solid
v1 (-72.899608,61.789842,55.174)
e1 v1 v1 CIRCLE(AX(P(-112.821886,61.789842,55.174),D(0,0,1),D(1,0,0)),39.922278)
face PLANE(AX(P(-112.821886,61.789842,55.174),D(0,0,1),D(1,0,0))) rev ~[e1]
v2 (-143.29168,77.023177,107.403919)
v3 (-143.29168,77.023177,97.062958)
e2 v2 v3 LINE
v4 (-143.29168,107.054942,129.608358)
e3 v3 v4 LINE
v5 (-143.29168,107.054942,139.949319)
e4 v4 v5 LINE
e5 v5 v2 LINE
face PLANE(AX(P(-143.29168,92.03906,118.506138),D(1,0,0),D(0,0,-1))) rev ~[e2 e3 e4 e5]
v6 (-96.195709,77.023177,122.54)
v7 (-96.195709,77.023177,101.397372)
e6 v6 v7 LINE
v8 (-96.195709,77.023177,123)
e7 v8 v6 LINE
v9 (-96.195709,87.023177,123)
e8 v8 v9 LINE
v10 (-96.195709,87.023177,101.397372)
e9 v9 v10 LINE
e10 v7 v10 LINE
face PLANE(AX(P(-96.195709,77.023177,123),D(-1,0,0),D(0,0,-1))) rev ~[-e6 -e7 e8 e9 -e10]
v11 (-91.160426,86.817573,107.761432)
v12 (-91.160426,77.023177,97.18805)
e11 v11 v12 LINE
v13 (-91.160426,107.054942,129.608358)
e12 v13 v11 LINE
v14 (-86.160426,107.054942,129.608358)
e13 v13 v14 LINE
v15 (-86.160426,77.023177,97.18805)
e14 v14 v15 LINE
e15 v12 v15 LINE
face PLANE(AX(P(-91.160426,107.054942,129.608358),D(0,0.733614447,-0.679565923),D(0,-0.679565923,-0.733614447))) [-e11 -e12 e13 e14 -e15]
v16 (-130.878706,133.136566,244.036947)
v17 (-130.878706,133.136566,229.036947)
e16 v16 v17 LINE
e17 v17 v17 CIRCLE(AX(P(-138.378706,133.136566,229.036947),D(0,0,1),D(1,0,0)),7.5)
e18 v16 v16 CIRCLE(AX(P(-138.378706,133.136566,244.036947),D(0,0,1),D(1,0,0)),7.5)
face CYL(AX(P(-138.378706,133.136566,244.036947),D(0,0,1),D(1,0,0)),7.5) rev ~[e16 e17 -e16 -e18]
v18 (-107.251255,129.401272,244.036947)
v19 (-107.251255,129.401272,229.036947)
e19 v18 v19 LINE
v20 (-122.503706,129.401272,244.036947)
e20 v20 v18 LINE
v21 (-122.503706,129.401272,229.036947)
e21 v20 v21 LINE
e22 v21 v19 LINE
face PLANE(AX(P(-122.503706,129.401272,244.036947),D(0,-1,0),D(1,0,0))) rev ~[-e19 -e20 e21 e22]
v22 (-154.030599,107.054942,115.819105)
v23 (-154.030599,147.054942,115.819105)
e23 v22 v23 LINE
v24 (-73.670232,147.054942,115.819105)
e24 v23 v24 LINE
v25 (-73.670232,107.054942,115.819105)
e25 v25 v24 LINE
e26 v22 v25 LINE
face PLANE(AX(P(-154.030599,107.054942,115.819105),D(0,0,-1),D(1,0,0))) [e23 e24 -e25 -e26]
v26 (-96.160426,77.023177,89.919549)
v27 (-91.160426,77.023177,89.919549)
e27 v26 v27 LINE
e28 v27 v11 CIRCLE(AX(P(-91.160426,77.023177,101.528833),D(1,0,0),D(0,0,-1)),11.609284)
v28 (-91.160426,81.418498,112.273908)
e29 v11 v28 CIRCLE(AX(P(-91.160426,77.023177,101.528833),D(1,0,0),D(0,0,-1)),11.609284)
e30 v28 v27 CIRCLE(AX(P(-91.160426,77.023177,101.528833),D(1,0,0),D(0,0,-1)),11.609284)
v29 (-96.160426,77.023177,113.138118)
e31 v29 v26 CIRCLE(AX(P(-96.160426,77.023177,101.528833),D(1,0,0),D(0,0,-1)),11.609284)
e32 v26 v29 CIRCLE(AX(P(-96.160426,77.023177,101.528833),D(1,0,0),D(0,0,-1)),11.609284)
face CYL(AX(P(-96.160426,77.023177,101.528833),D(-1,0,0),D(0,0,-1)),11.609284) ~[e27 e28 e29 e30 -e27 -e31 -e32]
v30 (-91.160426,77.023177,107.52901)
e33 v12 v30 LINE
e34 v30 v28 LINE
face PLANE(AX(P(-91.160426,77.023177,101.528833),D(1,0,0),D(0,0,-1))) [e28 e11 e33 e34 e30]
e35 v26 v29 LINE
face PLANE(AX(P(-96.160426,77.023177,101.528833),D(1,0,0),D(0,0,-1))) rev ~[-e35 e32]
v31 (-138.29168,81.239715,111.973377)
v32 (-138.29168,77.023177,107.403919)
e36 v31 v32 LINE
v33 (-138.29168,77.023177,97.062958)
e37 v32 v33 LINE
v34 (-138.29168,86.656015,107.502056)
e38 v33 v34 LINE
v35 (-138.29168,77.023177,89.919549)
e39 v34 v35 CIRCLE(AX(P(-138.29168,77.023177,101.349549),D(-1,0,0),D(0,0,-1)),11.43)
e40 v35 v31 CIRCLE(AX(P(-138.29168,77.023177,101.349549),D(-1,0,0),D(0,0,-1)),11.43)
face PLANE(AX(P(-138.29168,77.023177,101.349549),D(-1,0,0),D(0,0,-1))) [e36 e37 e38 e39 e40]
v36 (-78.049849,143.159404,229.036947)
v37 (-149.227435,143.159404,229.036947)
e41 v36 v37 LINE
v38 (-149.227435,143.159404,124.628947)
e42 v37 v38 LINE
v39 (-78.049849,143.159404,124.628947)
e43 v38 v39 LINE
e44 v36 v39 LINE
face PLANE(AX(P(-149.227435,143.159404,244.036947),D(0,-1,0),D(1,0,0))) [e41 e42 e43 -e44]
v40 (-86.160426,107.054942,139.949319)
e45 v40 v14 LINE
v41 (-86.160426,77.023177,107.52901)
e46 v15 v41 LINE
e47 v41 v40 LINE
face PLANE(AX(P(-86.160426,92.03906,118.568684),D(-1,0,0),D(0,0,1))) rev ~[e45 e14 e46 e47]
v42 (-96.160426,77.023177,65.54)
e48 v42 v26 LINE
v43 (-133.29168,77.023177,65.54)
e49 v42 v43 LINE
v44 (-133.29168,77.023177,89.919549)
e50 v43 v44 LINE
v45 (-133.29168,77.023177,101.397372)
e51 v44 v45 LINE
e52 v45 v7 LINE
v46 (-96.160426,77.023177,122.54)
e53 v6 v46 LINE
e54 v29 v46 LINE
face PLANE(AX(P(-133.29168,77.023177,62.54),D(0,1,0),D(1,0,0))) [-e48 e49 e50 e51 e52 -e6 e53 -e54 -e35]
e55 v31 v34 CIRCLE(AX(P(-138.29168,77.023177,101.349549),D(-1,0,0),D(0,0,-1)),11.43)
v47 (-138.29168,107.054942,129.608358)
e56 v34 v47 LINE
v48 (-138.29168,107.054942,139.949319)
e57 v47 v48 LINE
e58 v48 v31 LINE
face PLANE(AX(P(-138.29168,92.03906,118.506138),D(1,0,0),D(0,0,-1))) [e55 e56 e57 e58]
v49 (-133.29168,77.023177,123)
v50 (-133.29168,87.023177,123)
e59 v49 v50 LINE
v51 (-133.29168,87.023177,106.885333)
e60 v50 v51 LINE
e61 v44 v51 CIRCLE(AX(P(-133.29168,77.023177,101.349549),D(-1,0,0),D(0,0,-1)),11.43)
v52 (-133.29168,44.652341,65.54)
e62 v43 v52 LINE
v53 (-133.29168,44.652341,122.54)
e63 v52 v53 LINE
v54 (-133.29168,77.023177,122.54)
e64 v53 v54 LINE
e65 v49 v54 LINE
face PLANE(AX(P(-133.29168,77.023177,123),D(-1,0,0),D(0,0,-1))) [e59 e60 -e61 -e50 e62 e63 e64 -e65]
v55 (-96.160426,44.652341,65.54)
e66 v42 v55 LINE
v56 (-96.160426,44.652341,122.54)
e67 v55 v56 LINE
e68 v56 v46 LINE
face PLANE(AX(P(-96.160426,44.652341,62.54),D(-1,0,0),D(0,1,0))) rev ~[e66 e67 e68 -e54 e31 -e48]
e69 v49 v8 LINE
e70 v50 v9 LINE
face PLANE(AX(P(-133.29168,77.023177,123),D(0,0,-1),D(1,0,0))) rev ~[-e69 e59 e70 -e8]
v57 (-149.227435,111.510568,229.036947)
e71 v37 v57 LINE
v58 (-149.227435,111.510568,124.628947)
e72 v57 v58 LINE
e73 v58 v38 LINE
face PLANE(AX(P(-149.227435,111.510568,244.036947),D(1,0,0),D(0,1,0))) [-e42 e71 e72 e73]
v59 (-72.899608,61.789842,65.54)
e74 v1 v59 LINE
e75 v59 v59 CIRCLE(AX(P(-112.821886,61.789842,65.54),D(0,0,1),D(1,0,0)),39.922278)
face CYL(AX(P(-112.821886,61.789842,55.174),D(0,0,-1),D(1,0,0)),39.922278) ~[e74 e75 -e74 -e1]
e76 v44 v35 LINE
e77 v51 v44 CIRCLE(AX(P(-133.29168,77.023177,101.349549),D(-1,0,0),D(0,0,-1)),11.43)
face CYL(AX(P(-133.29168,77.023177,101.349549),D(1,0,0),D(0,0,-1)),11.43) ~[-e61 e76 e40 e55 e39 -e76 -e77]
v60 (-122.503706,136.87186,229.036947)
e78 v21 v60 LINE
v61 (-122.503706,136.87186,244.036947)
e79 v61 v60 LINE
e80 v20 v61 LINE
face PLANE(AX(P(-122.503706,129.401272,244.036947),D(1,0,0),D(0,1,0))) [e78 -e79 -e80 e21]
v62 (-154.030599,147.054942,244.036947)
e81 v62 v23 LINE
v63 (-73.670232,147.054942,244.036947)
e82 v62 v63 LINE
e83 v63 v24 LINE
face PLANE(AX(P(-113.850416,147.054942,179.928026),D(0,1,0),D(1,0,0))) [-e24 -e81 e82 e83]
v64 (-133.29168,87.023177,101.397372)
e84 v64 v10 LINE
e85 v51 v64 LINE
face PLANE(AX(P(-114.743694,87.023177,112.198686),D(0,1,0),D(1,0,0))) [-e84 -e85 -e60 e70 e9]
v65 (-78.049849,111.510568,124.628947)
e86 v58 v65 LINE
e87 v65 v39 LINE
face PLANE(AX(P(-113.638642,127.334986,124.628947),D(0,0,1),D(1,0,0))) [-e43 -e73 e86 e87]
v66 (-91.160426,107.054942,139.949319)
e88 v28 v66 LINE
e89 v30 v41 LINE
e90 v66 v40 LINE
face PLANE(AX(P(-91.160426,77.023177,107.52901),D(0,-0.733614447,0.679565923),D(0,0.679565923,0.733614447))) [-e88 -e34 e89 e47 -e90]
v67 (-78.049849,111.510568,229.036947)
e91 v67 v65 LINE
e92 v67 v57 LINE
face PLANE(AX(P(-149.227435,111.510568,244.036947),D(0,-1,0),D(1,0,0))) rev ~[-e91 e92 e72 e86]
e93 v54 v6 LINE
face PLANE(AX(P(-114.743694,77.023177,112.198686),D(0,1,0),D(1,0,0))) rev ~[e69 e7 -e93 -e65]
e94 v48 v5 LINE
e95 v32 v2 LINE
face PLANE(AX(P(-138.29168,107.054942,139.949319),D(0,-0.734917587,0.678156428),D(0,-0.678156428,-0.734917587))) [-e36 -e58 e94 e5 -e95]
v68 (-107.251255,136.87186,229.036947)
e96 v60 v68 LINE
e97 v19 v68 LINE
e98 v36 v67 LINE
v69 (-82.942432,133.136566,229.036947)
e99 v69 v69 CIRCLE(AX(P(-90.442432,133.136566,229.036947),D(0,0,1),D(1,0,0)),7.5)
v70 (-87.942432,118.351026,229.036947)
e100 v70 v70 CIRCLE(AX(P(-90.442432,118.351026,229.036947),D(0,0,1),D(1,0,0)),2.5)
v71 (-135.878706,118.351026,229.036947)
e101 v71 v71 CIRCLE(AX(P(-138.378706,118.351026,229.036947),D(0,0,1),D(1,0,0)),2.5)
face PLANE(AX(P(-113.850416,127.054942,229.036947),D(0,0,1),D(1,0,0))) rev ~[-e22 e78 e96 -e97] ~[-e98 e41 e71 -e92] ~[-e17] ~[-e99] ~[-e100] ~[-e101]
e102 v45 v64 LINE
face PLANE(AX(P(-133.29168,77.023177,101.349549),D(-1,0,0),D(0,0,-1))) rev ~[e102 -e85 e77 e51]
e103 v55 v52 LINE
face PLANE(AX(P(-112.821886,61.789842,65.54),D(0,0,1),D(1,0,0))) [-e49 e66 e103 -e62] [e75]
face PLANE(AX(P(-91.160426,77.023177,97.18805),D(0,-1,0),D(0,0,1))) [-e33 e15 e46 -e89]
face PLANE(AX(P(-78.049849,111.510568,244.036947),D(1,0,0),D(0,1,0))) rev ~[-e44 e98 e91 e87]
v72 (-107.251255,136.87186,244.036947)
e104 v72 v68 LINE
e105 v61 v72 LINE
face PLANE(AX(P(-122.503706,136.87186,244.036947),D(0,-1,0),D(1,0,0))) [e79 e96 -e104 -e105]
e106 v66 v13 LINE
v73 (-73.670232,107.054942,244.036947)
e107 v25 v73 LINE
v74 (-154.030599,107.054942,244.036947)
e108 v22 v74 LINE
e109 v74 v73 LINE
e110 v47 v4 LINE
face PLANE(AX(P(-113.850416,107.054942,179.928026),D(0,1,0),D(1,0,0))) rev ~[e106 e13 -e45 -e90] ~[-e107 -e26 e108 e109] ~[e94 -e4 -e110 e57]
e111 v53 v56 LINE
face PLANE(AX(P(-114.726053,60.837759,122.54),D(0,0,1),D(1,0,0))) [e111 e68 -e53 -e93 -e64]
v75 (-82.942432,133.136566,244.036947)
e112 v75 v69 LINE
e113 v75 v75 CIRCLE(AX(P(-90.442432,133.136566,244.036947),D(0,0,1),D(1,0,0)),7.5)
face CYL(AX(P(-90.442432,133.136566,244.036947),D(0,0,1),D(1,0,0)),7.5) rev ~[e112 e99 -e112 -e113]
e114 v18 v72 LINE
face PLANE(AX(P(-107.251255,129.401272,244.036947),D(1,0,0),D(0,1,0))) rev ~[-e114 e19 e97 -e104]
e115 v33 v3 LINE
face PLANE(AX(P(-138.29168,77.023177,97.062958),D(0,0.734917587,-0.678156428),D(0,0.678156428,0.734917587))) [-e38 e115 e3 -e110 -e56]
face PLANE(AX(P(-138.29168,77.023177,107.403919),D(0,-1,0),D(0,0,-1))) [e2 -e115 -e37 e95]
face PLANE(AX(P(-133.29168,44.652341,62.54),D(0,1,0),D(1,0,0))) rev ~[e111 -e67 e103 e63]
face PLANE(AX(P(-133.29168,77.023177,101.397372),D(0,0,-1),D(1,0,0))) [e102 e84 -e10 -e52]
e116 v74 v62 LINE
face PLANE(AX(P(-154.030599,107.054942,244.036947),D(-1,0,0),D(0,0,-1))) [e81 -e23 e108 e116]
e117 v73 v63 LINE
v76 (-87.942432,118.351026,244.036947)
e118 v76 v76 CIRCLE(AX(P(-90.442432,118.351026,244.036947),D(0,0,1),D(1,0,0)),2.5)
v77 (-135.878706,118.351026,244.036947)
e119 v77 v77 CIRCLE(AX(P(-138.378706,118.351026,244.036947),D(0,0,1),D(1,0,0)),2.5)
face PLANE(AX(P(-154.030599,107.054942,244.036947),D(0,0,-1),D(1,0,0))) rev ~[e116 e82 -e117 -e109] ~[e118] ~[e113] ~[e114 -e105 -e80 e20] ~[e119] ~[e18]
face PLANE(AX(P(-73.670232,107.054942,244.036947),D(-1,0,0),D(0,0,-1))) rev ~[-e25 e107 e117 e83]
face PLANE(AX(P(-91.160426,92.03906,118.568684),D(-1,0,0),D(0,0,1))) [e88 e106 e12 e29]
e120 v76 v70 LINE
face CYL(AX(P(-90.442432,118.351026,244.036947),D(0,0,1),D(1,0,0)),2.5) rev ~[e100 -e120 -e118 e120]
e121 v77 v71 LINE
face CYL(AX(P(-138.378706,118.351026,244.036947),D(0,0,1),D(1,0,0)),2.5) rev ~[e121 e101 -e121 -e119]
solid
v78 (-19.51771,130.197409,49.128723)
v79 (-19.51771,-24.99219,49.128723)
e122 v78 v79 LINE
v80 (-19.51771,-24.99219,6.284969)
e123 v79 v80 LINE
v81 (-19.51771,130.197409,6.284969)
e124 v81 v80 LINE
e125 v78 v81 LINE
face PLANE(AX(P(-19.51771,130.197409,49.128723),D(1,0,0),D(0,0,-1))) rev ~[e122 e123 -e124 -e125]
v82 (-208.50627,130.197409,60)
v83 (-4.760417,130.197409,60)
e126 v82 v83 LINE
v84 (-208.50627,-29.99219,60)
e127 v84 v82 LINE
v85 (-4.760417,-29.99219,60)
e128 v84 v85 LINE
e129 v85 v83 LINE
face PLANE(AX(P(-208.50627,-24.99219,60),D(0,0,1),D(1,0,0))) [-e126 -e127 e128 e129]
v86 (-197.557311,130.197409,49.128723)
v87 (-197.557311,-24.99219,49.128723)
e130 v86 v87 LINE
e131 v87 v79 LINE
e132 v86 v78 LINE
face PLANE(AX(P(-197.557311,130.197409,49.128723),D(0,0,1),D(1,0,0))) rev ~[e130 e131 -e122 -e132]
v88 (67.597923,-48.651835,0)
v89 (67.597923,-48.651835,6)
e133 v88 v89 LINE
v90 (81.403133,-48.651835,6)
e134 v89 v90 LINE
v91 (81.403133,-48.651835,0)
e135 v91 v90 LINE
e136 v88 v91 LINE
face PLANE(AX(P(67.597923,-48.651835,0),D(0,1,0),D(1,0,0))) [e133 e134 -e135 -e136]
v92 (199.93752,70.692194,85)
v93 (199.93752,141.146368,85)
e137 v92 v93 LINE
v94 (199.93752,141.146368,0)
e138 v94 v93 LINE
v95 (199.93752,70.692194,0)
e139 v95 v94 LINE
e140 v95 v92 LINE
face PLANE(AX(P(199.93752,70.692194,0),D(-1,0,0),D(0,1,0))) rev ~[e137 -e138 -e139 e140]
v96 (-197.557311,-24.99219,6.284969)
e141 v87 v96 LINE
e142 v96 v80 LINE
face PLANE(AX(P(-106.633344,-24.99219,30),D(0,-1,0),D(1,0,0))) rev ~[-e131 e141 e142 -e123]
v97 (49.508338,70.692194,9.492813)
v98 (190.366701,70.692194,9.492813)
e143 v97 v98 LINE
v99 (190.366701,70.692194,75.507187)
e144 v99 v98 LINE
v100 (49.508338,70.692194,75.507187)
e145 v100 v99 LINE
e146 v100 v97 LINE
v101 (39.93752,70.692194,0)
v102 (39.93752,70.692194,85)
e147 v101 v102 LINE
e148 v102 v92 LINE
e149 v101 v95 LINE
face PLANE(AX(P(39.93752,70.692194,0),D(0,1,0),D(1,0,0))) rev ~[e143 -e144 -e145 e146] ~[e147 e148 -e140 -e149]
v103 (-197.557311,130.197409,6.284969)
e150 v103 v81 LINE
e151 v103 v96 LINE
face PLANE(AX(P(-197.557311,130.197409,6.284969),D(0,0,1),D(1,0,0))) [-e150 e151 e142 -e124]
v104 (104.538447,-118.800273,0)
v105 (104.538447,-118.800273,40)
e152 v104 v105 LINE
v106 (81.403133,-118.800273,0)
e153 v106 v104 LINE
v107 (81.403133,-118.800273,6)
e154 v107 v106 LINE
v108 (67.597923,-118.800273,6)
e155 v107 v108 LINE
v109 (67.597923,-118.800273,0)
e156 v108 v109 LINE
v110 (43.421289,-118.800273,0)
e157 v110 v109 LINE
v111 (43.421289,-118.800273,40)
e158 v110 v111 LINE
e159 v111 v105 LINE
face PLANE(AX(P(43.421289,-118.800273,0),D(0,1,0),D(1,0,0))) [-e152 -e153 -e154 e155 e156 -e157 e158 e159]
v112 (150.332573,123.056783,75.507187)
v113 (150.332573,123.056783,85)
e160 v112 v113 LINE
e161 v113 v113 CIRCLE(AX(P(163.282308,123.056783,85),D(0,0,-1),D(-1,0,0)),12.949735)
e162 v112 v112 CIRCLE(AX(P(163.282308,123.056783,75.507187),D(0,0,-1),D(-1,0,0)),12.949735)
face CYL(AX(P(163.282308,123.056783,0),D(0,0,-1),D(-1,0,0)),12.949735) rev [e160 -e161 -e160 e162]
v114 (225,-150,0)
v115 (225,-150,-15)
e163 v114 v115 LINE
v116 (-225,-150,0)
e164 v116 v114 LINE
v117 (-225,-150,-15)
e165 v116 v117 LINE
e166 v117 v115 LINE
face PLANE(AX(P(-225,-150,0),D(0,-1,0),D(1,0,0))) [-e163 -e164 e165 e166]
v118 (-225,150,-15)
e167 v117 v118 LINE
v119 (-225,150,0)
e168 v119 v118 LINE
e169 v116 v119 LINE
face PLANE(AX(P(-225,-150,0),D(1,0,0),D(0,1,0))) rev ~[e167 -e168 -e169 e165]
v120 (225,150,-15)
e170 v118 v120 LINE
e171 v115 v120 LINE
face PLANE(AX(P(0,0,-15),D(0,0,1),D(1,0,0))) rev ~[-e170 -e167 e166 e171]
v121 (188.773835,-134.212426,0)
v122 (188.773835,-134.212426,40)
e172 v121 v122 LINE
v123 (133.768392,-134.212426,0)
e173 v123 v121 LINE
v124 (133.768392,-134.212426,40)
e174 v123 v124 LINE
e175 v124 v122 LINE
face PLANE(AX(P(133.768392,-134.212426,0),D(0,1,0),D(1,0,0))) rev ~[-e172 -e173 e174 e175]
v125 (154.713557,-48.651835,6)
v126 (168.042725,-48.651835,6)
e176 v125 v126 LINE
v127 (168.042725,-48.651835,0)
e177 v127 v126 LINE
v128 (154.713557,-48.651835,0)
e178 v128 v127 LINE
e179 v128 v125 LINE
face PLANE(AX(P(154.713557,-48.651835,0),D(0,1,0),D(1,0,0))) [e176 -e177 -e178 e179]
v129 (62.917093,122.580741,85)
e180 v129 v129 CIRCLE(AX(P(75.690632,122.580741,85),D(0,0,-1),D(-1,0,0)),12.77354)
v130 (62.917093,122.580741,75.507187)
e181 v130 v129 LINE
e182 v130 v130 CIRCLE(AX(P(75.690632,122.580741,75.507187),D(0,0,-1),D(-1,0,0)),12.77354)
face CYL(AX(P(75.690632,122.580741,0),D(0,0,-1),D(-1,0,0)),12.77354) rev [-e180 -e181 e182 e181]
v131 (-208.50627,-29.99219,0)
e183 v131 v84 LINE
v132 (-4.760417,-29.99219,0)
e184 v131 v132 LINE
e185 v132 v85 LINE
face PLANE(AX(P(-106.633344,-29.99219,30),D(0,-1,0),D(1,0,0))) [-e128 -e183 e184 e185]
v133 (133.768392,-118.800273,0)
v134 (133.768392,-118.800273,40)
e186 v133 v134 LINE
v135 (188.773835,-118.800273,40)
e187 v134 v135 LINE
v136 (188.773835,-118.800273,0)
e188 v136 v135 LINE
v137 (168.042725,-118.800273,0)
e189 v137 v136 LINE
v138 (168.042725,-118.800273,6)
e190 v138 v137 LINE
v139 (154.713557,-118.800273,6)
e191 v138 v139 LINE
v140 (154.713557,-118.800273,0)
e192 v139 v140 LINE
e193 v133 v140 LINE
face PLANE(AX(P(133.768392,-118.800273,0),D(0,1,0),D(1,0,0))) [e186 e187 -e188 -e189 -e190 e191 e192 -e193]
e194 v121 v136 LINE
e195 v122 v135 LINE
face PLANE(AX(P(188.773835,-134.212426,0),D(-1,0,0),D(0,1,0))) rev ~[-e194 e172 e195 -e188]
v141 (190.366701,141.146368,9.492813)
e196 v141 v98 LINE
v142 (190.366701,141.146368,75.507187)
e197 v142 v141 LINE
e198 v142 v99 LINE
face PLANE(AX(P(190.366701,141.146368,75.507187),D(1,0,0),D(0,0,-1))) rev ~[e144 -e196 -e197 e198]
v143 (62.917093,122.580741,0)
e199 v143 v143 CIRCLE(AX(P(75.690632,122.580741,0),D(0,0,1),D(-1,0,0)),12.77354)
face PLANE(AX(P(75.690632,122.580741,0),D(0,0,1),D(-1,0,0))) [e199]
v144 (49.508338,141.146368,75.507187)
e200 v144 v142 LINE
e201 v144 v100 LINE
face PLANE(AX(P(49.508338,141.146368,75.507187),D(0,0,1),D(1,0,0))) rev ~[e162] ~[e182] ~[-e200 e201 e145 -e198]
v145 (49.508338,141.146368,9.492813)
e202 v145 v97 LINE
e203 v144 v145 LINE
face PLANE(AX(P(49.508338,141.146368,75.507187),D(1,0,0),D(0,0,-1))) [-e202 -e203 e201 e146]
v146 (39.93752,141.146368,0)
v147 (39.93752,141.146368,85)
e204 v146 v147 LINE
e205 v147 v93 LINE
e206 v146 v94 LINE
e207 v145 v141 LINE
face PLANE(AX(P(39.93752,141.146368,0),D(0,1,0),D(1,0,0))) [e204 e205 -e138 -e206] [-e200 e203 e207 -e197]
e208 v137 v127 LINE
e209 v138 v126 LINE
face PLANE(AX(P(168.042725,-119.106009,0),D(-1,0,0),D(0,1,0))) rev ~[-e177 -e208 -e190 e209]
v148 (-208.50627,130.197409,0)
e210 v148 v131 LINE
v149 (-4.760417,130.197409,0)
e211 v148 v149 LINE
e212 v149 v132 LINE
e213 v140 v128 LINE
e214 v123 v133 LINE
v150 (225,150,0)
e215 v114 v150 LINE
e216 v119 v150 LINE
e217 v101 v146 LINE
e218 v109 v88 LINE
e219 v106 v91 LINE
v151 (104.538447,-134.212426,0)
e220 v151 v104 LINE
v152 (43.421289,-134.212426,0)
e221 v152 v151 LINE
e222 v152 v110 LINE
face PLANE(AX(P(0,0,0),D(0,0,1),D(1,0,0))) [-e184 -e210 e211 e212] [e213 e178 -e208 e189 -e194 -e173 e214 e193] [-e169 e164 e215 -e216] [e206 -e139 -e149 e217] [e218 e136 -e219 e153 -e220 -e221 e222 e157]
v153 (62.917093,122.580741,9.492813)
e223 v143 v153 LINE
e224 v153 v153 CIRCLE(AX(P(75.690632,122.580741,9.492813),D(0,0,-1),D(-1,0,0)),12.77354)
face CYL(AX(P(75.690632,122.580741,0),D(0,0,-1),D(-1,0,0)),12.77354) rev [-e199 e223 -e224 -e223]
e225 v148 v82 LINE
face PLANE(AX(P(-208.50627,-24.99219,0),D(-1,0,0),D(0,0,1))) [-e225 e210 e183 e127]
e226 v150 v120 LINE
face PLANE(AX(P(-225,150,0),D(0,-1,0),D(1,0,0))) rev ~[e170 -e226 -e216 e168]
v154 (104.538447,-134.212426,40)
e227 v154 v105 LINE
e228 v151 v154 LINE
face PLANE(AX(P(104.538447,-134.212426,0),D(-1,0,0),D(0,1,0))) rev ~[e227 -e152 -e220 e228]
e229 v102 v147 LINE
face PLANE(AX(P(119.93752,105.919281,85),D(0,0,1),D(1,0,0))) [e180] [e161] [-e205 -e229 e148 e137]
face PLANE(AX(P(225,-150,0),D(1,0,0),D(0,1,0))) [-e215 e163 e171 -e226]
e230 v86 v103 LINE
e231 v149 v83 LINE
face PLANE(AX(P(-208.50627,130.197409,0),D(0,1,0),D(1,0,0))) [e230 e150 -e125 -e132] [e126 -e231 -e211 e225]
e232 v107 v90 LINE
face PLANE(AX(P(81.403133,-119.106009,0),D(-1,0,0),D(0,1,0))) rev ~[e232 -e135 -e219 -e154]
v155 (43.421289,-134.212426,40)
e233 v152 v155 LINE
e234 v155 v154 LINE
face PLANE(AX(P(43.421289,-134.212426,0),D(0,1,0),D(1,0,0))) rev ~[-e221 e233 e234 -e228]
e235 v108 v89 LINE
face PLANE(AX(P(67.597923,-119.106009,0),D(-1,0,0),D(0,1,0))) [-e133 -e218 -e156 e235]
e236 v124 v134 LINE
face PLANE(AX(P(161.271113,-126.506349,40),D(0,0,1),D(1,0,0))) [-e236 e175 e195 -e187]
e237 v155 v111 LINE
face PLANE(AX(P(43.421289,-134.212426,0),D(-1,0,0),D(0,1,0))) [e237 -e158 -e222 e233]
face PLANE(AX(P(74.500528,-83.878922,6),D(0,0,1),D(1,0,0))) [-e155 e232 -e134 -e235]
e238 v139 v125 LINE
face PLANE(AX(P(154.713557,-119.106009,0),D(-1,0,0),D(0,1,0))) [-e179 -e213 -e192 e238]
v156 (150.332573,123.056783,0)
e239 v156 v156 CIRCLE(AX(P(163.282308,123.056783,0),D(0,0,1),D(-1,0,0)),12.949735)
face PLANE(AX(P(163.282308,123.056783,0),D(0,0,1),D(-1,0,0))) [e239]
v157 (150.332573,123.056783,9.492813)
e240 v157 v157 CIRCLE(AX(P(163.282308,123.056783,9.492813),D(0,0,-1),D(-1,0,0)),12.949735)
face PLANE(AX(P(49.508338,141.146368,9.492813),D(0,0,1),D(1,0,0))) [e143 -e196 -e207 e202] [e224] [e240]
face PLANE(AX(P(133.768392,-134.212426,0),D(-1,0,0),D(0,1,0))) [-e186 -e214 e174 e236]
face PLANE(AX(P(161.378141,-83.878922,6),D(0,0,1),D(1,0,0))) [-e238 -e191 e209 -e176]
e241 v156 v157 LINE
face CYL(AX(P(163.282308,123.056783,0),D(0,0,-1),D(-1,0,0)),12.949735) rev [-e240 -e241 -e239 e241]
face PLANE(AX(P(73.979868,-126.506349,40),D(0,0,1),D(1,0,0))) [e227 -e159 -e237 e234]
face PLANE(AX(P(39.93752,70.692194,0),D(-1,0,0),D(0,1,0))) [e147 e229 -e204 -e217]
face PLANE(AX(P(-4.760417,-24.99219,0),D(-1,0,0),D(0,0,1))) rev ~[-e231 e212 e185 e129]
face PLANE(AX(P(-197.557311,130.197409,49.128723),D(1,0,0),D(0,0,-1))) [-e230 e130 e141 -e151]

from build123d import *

# Parameters (mm, degrees)
SKETCH2_W                = 450
SKETCH2_H                = 300
BOSS_EXTRUDE1_DEPTH      = 15
SKETCH3_W                = 160
SKETCH3_H                = 70.454173546
BOSS_EXTRUDE2_DEPTH      = 85
SKETCH4_W                = 140.858362714
SKETCH4_H                = 66.01437432
CUT_EXTRUDE1_DEPTH       = 85
SKETCH6_W                = 203.74585323
SKETCH6_H                = 155.189598489
BOSS_EXTRUDE3_DEPTH      = 60
SKETCH7_W                = 178.03960072
SKETCH7_H                = 42.843754184
CUT_EXTRUDE2_DEPTH       = 370.270345082
SKETCH9_R                = 12.773539569
CUT_EXTRUDE3_DEPTH       = 284.460755661
SKETCH10_R               = 12.949734645
CUT_EXTRUDE4_DEPTH       = 284.460755661
SKETCH11_W               = 203.74585323
SKETCH11_H               = 60
BOSS_EXTRUDE4_DEPTH      = 5
SKETCH14_W               = 13.805209682
SKETCH14_H               = 70.454173547
SKETCH14_W_2             = 13.329167969
BOSS_EXTRUDE7_DEPTH      = 6
SKETCH15_W               = 55.005442473
SKETCH15_H               = 15.412152964
SKETCH15_W_2             = 61.117158303
BOSS_EXTRUDE8_DEPTH      = 40
BOSS_EXTRUDE9_DEPTH      = 3
BOSS_EXTRUDE9_DEPTH_BACK = 7.366
SKETCH17_R               = 39.922278331
SKETCH18_W               = 37.131253626
SKETCH18_H               = 32.370836495
BOSS_EXTRUDE10_DEPTH     = 60
SKETCH22_W               = 37.095971173
SKETCH22_H               = 21.602627686
BOSS_EXTRUDE11_DEPTH     = 10
SKETCH23_R               = 11.43
BOSS_EXTRUDE12_DEPTH     = 5
SKETCH24_R               = 11.609284077
BOSS_EXTRUDE13_DEPTH     = 5
BOSS_EXTRUDE14_DEPTH     = 5
BOSS_EXTRUDE15_DEPTH     = 5
SKETCH30_W               = 80.360367193
SKETCH30_H               = 128.21784224
BOSS_EXTRUDE17_DEPTH     = 40
SKETCH35_W               = 71.177586029
SKETCH35_H               = 31.648835894
CUT_EXTRUDE6_DEPTH       = 119.408
SKETCH39_W               = 80.360367193
SKETCH39_H               = 40
BOSS_EXTRUDE19_DEPTH     = 15
SKETCH38_R               = 7.5
SKETCH38_R_2             = 2.5
SKETCH38_W               = 15.252451033
SKETCH38_H               = 7.470588261
CUT_EXTRUDE7_DEPTH       = 20


with BuildPart() as part:
    # Sketch2 → Boss-Extrude1 (new body)
    with BuildSketch(Plane.XY):
        Rectangle(SKETCH2_W, SKETCH2_H)
    extrude(amount=-BOSS_EXTRUDE1_DEPTH)

    # Sketch3 → Boss-Extrude2 (add)
    with BuildSketch(Plane.XY):
        with Locations((119.937519525, 105.919281177)):
            Rectangle(SKETCH3_W, SKETCH3_H)
    extrude(amount=BOSS_EXTRUDE2_DEPTH)

    # Sketch4 → Cut-Extrude1 (cut)
    with BuildSketch(Plane(origin=(0, 141.14636795, 0), x_dir=(1, 0, 0), z_dir=(0, 1, 0))):
        with Locations((119.937519525, -42.5)):
            Rectangle(SKETCH4_W, SKETCH4_H)
    extrude(amount=-CUT_EXTRUDE1_DEPTH, mode=Mode.SUBTRACT)

    # Sketch6 → Boss-Extrude3 (add)
    with BuildSketch(Plane.XY):
        with Locations((-106.633343747, 52.602609303)):
            Rectangle(SKETCH6_W, SKETCH6_H)
    extrude(amount=BOSS_EXTRUDE3_DEPTH)

    # Sketch7 → Cut-Extrude2 (cut, through all)
    with BuildSketch(Plane(origin=(0, 130.197408548, 0), x_dir=(1, 0, 0), z_dir=(0, 1, 0))):
        with Locations((-108.537510599, -27.706846098)):
            Rectangle(SKETCH7_W, SKETCH7_H)
    extrude(amount=-CUT_EXTRUDE2_DEPTH, mode=Mode.SUBTRACT)

    # Sketch9 → Cut-Extrude3 (cut, through all)
    with BuildSketch(Plane.XY):
        with Locations(Location((75.690632392, 122.580741137, 0), (0, 0, 180))):
            Circle(SKETCH9_R)
    extrude(amount=CUT_EXTRUDE3_DEPTH, mode=Mode.SUBTRACT)

    # Sketch10 → Cut-Extrude4 (cut, through all)
    with BuildSketch(Plane.XY):
        with Locations(Location((163.282307612, 123.056782851, 0), (0, 0, 180))):
            Circle(SKETCH10_R)
    extrude(amount=CUT_EXTRUDE4_DEPTH, mode=Mode.SUBTRACT)

    # Sketch11 → Boss-Extrude4 (add)
    with BuildSketch(Plane.XZ.offset(24.992189941)):
        with Locations((-106.633343747, 30)):
            Rectangle(SKETCH11_W, SKETCH11_H)
    extrude(amount=BOSS_EXTRUDE4_DEPTH)

    # Sketch14 → Boss-Extrude7 (add)
    with BuildSketch(Plane.XY):
        with Locations((74.500528109, -83.878921765)):
            Rectangle(SKETCH14_W, SKETCH14_H)
        with Locations((161.37814076, -83.878921765)):
            Rectangle(SKETCH14_W_2, SKETCH14_H)
    extrude(amount=BOSS_EXTRUDE7_DEPTH)

    # Sketch15 → Boss-Extrude8 (add)
    with BuildSketch(Plane.XY):
        with Locations((161.271113451, -126.506349237)):
            Rectangle(SKETCH15_W, SKETCH15_H)
        with Locations((73.979867787, -126.506349237)):
            Rectangle(SKETCH15_W_2, SKETCH15_H)
    extrude(amount=BOSS_EXTRUDE8_DEPTH)


with BuildPart() as body_2:
    # Sketch17 → Boss-Extrude9 (new, two sides: drawn at the far end of the back side and taken through both)
    with BuildSketch(Plane.XY.offset(62.54).offset(-BOSS_EXTRUDE9_DEPTH_BACK)):
        with Locations((-112.821886018, 61.78984246)):
            Circle(SKETCH17_R)
    extrude(amount=BOSS_EXTRUDE9_DEPTH + BOSS_EXTRUDE9_DEPTH_BACK)

    # Sketch18 → Boss-Extrude10 (add)
    with BuildSketch(Plane.XY.offset(62.54)):
        with Locations((-114.72605287, 60.837759034)):
            Rectangle(SKETCH18_W, SKETCH18_H)
    extrude(amount=BOSS_EXTRUDE10_DEPTH)

    # Sketch22 → Boss-Extrude11 (add)
    with BuildSketch(Plane(origin=(0, 77.023177281, 0), x_dir=(1, 0, 0), z_dir=(0, 1, 0))):
        with Locations((-114.743694097, -112.198686157)):
            Rectangle(SKETCH22_W, SKETCH22_H)
    extrude(amount=BOSS_EXTRUDE11_DEPTH)

    # Sketch23 → Boss-Extrude12 (add)
    with BuildSketch(Plane.ZY.offset(133.291679683)):
        with Locations(Location((101.349549357, 77.023177281, 0), (0, 0, 180))):
            Circle(SKETCH23_R)
    extrude(amount=BOSS_EXTRUDE12_DEPTH)

    # Sketch24 → Boss-Extrude13 (add)
    with BuildSketch(Plane(origin=(-96.160426057, 0, 0), x_dir=(0, 0, -1), z_dir=(1, 0, 0))):
        with Locations((-101.528833434, 77.023177281)):
            Circle(SKETCH24_R)
    extrude(amount=BOSS_EXTRUDE13_DEPTH)

    # Sketch25 → Boss-Extrude14 (add)
    with BuildSketch(Plane(origin=(-91.160426057, 0, 0), x_dir=(0, 0, -1), z_dir=(1, 0, 0))):
        Polygon((-97.188050001, 77.023177281), (-107.529010443, 77.023177281), (-139.949318856, 107.054942489), (-129.608358414, 107.054942489), align=None)
    extrude(amount=BOSS_EXTRUDE14_DEPTH)

    # Sketch26 → Boss-Extrude15 (add)
    with BuildSketch(Plane.ZY.offset(138.291679683)):
        Polygon((129.608358414, 107.054942489), (139.949318856, 107.054942489), (107.403918576, 77.023177281), (97.062958134, 77.023177281), align=None)
    extrude(amount=BOSS_EXTRUDE15_DEPTH)

    # Sketch30 → Boss-Extrude17 (add)
    with BuildSketch(Plane(origin=(0, 107.054942489, 0), x_dir=(1, 0, 0), z_dir=(0, 1, 0))):
        with Locations((-113.850415669, -179.928026333)):
            Rectangle(SKETCH30_W, SKETCH30_H)
    extrude(amount=BOSS_EXTRUDE17_DEPTH)

    # Sketch35 → Cut-Extrude6 (cut)
    with BuildSketch(Plane.XY.offset(244.036947453)):
        with Locations((-113.638642199, 127.334985672)):
            Rectangle(SKETCH35_W, SKETCH35_H)
    extrude(amount=-CUT_EXTRUDE6_DEPTH, mode=Mode.SUBTRACT)

    # Sketch39 → Boss-Extrude19 (add)
    with BuildSketch(Plane.XY.offset(244.036947453)):
        with Locations((-113.850415669, 127.054942489)):
            Rectangle(SKETCH39_W, SKETCH39_H)
    extrude(amount=-BOSS_EXTRUDE19_DEPTH)

    # Sketch38 → Cut-Extrude7 (cut)
    with BuildSketch(Plane.XY.offset(244.036947453)):
        with Locations((-138.378706494, 133.13656573)):
            Circle(SKETCH38_R)
        with Locations((-138.378706494, 118.351026463)):
            Circle(SKETCH38_R_2)
        with Locations((-90.442431819, 133.13656573)):
            Circle(SKETCH38_R)
        with Locations((-90.442431819, 118.351026463)):
            Circle(SKETCH38_R_2)
        with Locations((-114.877480923, 133.13656573)):
            Rectangle(SKETCH38_W, SKETCH38_H)
    extrude(amount=-CUT_EXTRUDE7_DEPTH, mode=Mode.SUBTRACT)


solid = Compound([part.part, body_2.part])
